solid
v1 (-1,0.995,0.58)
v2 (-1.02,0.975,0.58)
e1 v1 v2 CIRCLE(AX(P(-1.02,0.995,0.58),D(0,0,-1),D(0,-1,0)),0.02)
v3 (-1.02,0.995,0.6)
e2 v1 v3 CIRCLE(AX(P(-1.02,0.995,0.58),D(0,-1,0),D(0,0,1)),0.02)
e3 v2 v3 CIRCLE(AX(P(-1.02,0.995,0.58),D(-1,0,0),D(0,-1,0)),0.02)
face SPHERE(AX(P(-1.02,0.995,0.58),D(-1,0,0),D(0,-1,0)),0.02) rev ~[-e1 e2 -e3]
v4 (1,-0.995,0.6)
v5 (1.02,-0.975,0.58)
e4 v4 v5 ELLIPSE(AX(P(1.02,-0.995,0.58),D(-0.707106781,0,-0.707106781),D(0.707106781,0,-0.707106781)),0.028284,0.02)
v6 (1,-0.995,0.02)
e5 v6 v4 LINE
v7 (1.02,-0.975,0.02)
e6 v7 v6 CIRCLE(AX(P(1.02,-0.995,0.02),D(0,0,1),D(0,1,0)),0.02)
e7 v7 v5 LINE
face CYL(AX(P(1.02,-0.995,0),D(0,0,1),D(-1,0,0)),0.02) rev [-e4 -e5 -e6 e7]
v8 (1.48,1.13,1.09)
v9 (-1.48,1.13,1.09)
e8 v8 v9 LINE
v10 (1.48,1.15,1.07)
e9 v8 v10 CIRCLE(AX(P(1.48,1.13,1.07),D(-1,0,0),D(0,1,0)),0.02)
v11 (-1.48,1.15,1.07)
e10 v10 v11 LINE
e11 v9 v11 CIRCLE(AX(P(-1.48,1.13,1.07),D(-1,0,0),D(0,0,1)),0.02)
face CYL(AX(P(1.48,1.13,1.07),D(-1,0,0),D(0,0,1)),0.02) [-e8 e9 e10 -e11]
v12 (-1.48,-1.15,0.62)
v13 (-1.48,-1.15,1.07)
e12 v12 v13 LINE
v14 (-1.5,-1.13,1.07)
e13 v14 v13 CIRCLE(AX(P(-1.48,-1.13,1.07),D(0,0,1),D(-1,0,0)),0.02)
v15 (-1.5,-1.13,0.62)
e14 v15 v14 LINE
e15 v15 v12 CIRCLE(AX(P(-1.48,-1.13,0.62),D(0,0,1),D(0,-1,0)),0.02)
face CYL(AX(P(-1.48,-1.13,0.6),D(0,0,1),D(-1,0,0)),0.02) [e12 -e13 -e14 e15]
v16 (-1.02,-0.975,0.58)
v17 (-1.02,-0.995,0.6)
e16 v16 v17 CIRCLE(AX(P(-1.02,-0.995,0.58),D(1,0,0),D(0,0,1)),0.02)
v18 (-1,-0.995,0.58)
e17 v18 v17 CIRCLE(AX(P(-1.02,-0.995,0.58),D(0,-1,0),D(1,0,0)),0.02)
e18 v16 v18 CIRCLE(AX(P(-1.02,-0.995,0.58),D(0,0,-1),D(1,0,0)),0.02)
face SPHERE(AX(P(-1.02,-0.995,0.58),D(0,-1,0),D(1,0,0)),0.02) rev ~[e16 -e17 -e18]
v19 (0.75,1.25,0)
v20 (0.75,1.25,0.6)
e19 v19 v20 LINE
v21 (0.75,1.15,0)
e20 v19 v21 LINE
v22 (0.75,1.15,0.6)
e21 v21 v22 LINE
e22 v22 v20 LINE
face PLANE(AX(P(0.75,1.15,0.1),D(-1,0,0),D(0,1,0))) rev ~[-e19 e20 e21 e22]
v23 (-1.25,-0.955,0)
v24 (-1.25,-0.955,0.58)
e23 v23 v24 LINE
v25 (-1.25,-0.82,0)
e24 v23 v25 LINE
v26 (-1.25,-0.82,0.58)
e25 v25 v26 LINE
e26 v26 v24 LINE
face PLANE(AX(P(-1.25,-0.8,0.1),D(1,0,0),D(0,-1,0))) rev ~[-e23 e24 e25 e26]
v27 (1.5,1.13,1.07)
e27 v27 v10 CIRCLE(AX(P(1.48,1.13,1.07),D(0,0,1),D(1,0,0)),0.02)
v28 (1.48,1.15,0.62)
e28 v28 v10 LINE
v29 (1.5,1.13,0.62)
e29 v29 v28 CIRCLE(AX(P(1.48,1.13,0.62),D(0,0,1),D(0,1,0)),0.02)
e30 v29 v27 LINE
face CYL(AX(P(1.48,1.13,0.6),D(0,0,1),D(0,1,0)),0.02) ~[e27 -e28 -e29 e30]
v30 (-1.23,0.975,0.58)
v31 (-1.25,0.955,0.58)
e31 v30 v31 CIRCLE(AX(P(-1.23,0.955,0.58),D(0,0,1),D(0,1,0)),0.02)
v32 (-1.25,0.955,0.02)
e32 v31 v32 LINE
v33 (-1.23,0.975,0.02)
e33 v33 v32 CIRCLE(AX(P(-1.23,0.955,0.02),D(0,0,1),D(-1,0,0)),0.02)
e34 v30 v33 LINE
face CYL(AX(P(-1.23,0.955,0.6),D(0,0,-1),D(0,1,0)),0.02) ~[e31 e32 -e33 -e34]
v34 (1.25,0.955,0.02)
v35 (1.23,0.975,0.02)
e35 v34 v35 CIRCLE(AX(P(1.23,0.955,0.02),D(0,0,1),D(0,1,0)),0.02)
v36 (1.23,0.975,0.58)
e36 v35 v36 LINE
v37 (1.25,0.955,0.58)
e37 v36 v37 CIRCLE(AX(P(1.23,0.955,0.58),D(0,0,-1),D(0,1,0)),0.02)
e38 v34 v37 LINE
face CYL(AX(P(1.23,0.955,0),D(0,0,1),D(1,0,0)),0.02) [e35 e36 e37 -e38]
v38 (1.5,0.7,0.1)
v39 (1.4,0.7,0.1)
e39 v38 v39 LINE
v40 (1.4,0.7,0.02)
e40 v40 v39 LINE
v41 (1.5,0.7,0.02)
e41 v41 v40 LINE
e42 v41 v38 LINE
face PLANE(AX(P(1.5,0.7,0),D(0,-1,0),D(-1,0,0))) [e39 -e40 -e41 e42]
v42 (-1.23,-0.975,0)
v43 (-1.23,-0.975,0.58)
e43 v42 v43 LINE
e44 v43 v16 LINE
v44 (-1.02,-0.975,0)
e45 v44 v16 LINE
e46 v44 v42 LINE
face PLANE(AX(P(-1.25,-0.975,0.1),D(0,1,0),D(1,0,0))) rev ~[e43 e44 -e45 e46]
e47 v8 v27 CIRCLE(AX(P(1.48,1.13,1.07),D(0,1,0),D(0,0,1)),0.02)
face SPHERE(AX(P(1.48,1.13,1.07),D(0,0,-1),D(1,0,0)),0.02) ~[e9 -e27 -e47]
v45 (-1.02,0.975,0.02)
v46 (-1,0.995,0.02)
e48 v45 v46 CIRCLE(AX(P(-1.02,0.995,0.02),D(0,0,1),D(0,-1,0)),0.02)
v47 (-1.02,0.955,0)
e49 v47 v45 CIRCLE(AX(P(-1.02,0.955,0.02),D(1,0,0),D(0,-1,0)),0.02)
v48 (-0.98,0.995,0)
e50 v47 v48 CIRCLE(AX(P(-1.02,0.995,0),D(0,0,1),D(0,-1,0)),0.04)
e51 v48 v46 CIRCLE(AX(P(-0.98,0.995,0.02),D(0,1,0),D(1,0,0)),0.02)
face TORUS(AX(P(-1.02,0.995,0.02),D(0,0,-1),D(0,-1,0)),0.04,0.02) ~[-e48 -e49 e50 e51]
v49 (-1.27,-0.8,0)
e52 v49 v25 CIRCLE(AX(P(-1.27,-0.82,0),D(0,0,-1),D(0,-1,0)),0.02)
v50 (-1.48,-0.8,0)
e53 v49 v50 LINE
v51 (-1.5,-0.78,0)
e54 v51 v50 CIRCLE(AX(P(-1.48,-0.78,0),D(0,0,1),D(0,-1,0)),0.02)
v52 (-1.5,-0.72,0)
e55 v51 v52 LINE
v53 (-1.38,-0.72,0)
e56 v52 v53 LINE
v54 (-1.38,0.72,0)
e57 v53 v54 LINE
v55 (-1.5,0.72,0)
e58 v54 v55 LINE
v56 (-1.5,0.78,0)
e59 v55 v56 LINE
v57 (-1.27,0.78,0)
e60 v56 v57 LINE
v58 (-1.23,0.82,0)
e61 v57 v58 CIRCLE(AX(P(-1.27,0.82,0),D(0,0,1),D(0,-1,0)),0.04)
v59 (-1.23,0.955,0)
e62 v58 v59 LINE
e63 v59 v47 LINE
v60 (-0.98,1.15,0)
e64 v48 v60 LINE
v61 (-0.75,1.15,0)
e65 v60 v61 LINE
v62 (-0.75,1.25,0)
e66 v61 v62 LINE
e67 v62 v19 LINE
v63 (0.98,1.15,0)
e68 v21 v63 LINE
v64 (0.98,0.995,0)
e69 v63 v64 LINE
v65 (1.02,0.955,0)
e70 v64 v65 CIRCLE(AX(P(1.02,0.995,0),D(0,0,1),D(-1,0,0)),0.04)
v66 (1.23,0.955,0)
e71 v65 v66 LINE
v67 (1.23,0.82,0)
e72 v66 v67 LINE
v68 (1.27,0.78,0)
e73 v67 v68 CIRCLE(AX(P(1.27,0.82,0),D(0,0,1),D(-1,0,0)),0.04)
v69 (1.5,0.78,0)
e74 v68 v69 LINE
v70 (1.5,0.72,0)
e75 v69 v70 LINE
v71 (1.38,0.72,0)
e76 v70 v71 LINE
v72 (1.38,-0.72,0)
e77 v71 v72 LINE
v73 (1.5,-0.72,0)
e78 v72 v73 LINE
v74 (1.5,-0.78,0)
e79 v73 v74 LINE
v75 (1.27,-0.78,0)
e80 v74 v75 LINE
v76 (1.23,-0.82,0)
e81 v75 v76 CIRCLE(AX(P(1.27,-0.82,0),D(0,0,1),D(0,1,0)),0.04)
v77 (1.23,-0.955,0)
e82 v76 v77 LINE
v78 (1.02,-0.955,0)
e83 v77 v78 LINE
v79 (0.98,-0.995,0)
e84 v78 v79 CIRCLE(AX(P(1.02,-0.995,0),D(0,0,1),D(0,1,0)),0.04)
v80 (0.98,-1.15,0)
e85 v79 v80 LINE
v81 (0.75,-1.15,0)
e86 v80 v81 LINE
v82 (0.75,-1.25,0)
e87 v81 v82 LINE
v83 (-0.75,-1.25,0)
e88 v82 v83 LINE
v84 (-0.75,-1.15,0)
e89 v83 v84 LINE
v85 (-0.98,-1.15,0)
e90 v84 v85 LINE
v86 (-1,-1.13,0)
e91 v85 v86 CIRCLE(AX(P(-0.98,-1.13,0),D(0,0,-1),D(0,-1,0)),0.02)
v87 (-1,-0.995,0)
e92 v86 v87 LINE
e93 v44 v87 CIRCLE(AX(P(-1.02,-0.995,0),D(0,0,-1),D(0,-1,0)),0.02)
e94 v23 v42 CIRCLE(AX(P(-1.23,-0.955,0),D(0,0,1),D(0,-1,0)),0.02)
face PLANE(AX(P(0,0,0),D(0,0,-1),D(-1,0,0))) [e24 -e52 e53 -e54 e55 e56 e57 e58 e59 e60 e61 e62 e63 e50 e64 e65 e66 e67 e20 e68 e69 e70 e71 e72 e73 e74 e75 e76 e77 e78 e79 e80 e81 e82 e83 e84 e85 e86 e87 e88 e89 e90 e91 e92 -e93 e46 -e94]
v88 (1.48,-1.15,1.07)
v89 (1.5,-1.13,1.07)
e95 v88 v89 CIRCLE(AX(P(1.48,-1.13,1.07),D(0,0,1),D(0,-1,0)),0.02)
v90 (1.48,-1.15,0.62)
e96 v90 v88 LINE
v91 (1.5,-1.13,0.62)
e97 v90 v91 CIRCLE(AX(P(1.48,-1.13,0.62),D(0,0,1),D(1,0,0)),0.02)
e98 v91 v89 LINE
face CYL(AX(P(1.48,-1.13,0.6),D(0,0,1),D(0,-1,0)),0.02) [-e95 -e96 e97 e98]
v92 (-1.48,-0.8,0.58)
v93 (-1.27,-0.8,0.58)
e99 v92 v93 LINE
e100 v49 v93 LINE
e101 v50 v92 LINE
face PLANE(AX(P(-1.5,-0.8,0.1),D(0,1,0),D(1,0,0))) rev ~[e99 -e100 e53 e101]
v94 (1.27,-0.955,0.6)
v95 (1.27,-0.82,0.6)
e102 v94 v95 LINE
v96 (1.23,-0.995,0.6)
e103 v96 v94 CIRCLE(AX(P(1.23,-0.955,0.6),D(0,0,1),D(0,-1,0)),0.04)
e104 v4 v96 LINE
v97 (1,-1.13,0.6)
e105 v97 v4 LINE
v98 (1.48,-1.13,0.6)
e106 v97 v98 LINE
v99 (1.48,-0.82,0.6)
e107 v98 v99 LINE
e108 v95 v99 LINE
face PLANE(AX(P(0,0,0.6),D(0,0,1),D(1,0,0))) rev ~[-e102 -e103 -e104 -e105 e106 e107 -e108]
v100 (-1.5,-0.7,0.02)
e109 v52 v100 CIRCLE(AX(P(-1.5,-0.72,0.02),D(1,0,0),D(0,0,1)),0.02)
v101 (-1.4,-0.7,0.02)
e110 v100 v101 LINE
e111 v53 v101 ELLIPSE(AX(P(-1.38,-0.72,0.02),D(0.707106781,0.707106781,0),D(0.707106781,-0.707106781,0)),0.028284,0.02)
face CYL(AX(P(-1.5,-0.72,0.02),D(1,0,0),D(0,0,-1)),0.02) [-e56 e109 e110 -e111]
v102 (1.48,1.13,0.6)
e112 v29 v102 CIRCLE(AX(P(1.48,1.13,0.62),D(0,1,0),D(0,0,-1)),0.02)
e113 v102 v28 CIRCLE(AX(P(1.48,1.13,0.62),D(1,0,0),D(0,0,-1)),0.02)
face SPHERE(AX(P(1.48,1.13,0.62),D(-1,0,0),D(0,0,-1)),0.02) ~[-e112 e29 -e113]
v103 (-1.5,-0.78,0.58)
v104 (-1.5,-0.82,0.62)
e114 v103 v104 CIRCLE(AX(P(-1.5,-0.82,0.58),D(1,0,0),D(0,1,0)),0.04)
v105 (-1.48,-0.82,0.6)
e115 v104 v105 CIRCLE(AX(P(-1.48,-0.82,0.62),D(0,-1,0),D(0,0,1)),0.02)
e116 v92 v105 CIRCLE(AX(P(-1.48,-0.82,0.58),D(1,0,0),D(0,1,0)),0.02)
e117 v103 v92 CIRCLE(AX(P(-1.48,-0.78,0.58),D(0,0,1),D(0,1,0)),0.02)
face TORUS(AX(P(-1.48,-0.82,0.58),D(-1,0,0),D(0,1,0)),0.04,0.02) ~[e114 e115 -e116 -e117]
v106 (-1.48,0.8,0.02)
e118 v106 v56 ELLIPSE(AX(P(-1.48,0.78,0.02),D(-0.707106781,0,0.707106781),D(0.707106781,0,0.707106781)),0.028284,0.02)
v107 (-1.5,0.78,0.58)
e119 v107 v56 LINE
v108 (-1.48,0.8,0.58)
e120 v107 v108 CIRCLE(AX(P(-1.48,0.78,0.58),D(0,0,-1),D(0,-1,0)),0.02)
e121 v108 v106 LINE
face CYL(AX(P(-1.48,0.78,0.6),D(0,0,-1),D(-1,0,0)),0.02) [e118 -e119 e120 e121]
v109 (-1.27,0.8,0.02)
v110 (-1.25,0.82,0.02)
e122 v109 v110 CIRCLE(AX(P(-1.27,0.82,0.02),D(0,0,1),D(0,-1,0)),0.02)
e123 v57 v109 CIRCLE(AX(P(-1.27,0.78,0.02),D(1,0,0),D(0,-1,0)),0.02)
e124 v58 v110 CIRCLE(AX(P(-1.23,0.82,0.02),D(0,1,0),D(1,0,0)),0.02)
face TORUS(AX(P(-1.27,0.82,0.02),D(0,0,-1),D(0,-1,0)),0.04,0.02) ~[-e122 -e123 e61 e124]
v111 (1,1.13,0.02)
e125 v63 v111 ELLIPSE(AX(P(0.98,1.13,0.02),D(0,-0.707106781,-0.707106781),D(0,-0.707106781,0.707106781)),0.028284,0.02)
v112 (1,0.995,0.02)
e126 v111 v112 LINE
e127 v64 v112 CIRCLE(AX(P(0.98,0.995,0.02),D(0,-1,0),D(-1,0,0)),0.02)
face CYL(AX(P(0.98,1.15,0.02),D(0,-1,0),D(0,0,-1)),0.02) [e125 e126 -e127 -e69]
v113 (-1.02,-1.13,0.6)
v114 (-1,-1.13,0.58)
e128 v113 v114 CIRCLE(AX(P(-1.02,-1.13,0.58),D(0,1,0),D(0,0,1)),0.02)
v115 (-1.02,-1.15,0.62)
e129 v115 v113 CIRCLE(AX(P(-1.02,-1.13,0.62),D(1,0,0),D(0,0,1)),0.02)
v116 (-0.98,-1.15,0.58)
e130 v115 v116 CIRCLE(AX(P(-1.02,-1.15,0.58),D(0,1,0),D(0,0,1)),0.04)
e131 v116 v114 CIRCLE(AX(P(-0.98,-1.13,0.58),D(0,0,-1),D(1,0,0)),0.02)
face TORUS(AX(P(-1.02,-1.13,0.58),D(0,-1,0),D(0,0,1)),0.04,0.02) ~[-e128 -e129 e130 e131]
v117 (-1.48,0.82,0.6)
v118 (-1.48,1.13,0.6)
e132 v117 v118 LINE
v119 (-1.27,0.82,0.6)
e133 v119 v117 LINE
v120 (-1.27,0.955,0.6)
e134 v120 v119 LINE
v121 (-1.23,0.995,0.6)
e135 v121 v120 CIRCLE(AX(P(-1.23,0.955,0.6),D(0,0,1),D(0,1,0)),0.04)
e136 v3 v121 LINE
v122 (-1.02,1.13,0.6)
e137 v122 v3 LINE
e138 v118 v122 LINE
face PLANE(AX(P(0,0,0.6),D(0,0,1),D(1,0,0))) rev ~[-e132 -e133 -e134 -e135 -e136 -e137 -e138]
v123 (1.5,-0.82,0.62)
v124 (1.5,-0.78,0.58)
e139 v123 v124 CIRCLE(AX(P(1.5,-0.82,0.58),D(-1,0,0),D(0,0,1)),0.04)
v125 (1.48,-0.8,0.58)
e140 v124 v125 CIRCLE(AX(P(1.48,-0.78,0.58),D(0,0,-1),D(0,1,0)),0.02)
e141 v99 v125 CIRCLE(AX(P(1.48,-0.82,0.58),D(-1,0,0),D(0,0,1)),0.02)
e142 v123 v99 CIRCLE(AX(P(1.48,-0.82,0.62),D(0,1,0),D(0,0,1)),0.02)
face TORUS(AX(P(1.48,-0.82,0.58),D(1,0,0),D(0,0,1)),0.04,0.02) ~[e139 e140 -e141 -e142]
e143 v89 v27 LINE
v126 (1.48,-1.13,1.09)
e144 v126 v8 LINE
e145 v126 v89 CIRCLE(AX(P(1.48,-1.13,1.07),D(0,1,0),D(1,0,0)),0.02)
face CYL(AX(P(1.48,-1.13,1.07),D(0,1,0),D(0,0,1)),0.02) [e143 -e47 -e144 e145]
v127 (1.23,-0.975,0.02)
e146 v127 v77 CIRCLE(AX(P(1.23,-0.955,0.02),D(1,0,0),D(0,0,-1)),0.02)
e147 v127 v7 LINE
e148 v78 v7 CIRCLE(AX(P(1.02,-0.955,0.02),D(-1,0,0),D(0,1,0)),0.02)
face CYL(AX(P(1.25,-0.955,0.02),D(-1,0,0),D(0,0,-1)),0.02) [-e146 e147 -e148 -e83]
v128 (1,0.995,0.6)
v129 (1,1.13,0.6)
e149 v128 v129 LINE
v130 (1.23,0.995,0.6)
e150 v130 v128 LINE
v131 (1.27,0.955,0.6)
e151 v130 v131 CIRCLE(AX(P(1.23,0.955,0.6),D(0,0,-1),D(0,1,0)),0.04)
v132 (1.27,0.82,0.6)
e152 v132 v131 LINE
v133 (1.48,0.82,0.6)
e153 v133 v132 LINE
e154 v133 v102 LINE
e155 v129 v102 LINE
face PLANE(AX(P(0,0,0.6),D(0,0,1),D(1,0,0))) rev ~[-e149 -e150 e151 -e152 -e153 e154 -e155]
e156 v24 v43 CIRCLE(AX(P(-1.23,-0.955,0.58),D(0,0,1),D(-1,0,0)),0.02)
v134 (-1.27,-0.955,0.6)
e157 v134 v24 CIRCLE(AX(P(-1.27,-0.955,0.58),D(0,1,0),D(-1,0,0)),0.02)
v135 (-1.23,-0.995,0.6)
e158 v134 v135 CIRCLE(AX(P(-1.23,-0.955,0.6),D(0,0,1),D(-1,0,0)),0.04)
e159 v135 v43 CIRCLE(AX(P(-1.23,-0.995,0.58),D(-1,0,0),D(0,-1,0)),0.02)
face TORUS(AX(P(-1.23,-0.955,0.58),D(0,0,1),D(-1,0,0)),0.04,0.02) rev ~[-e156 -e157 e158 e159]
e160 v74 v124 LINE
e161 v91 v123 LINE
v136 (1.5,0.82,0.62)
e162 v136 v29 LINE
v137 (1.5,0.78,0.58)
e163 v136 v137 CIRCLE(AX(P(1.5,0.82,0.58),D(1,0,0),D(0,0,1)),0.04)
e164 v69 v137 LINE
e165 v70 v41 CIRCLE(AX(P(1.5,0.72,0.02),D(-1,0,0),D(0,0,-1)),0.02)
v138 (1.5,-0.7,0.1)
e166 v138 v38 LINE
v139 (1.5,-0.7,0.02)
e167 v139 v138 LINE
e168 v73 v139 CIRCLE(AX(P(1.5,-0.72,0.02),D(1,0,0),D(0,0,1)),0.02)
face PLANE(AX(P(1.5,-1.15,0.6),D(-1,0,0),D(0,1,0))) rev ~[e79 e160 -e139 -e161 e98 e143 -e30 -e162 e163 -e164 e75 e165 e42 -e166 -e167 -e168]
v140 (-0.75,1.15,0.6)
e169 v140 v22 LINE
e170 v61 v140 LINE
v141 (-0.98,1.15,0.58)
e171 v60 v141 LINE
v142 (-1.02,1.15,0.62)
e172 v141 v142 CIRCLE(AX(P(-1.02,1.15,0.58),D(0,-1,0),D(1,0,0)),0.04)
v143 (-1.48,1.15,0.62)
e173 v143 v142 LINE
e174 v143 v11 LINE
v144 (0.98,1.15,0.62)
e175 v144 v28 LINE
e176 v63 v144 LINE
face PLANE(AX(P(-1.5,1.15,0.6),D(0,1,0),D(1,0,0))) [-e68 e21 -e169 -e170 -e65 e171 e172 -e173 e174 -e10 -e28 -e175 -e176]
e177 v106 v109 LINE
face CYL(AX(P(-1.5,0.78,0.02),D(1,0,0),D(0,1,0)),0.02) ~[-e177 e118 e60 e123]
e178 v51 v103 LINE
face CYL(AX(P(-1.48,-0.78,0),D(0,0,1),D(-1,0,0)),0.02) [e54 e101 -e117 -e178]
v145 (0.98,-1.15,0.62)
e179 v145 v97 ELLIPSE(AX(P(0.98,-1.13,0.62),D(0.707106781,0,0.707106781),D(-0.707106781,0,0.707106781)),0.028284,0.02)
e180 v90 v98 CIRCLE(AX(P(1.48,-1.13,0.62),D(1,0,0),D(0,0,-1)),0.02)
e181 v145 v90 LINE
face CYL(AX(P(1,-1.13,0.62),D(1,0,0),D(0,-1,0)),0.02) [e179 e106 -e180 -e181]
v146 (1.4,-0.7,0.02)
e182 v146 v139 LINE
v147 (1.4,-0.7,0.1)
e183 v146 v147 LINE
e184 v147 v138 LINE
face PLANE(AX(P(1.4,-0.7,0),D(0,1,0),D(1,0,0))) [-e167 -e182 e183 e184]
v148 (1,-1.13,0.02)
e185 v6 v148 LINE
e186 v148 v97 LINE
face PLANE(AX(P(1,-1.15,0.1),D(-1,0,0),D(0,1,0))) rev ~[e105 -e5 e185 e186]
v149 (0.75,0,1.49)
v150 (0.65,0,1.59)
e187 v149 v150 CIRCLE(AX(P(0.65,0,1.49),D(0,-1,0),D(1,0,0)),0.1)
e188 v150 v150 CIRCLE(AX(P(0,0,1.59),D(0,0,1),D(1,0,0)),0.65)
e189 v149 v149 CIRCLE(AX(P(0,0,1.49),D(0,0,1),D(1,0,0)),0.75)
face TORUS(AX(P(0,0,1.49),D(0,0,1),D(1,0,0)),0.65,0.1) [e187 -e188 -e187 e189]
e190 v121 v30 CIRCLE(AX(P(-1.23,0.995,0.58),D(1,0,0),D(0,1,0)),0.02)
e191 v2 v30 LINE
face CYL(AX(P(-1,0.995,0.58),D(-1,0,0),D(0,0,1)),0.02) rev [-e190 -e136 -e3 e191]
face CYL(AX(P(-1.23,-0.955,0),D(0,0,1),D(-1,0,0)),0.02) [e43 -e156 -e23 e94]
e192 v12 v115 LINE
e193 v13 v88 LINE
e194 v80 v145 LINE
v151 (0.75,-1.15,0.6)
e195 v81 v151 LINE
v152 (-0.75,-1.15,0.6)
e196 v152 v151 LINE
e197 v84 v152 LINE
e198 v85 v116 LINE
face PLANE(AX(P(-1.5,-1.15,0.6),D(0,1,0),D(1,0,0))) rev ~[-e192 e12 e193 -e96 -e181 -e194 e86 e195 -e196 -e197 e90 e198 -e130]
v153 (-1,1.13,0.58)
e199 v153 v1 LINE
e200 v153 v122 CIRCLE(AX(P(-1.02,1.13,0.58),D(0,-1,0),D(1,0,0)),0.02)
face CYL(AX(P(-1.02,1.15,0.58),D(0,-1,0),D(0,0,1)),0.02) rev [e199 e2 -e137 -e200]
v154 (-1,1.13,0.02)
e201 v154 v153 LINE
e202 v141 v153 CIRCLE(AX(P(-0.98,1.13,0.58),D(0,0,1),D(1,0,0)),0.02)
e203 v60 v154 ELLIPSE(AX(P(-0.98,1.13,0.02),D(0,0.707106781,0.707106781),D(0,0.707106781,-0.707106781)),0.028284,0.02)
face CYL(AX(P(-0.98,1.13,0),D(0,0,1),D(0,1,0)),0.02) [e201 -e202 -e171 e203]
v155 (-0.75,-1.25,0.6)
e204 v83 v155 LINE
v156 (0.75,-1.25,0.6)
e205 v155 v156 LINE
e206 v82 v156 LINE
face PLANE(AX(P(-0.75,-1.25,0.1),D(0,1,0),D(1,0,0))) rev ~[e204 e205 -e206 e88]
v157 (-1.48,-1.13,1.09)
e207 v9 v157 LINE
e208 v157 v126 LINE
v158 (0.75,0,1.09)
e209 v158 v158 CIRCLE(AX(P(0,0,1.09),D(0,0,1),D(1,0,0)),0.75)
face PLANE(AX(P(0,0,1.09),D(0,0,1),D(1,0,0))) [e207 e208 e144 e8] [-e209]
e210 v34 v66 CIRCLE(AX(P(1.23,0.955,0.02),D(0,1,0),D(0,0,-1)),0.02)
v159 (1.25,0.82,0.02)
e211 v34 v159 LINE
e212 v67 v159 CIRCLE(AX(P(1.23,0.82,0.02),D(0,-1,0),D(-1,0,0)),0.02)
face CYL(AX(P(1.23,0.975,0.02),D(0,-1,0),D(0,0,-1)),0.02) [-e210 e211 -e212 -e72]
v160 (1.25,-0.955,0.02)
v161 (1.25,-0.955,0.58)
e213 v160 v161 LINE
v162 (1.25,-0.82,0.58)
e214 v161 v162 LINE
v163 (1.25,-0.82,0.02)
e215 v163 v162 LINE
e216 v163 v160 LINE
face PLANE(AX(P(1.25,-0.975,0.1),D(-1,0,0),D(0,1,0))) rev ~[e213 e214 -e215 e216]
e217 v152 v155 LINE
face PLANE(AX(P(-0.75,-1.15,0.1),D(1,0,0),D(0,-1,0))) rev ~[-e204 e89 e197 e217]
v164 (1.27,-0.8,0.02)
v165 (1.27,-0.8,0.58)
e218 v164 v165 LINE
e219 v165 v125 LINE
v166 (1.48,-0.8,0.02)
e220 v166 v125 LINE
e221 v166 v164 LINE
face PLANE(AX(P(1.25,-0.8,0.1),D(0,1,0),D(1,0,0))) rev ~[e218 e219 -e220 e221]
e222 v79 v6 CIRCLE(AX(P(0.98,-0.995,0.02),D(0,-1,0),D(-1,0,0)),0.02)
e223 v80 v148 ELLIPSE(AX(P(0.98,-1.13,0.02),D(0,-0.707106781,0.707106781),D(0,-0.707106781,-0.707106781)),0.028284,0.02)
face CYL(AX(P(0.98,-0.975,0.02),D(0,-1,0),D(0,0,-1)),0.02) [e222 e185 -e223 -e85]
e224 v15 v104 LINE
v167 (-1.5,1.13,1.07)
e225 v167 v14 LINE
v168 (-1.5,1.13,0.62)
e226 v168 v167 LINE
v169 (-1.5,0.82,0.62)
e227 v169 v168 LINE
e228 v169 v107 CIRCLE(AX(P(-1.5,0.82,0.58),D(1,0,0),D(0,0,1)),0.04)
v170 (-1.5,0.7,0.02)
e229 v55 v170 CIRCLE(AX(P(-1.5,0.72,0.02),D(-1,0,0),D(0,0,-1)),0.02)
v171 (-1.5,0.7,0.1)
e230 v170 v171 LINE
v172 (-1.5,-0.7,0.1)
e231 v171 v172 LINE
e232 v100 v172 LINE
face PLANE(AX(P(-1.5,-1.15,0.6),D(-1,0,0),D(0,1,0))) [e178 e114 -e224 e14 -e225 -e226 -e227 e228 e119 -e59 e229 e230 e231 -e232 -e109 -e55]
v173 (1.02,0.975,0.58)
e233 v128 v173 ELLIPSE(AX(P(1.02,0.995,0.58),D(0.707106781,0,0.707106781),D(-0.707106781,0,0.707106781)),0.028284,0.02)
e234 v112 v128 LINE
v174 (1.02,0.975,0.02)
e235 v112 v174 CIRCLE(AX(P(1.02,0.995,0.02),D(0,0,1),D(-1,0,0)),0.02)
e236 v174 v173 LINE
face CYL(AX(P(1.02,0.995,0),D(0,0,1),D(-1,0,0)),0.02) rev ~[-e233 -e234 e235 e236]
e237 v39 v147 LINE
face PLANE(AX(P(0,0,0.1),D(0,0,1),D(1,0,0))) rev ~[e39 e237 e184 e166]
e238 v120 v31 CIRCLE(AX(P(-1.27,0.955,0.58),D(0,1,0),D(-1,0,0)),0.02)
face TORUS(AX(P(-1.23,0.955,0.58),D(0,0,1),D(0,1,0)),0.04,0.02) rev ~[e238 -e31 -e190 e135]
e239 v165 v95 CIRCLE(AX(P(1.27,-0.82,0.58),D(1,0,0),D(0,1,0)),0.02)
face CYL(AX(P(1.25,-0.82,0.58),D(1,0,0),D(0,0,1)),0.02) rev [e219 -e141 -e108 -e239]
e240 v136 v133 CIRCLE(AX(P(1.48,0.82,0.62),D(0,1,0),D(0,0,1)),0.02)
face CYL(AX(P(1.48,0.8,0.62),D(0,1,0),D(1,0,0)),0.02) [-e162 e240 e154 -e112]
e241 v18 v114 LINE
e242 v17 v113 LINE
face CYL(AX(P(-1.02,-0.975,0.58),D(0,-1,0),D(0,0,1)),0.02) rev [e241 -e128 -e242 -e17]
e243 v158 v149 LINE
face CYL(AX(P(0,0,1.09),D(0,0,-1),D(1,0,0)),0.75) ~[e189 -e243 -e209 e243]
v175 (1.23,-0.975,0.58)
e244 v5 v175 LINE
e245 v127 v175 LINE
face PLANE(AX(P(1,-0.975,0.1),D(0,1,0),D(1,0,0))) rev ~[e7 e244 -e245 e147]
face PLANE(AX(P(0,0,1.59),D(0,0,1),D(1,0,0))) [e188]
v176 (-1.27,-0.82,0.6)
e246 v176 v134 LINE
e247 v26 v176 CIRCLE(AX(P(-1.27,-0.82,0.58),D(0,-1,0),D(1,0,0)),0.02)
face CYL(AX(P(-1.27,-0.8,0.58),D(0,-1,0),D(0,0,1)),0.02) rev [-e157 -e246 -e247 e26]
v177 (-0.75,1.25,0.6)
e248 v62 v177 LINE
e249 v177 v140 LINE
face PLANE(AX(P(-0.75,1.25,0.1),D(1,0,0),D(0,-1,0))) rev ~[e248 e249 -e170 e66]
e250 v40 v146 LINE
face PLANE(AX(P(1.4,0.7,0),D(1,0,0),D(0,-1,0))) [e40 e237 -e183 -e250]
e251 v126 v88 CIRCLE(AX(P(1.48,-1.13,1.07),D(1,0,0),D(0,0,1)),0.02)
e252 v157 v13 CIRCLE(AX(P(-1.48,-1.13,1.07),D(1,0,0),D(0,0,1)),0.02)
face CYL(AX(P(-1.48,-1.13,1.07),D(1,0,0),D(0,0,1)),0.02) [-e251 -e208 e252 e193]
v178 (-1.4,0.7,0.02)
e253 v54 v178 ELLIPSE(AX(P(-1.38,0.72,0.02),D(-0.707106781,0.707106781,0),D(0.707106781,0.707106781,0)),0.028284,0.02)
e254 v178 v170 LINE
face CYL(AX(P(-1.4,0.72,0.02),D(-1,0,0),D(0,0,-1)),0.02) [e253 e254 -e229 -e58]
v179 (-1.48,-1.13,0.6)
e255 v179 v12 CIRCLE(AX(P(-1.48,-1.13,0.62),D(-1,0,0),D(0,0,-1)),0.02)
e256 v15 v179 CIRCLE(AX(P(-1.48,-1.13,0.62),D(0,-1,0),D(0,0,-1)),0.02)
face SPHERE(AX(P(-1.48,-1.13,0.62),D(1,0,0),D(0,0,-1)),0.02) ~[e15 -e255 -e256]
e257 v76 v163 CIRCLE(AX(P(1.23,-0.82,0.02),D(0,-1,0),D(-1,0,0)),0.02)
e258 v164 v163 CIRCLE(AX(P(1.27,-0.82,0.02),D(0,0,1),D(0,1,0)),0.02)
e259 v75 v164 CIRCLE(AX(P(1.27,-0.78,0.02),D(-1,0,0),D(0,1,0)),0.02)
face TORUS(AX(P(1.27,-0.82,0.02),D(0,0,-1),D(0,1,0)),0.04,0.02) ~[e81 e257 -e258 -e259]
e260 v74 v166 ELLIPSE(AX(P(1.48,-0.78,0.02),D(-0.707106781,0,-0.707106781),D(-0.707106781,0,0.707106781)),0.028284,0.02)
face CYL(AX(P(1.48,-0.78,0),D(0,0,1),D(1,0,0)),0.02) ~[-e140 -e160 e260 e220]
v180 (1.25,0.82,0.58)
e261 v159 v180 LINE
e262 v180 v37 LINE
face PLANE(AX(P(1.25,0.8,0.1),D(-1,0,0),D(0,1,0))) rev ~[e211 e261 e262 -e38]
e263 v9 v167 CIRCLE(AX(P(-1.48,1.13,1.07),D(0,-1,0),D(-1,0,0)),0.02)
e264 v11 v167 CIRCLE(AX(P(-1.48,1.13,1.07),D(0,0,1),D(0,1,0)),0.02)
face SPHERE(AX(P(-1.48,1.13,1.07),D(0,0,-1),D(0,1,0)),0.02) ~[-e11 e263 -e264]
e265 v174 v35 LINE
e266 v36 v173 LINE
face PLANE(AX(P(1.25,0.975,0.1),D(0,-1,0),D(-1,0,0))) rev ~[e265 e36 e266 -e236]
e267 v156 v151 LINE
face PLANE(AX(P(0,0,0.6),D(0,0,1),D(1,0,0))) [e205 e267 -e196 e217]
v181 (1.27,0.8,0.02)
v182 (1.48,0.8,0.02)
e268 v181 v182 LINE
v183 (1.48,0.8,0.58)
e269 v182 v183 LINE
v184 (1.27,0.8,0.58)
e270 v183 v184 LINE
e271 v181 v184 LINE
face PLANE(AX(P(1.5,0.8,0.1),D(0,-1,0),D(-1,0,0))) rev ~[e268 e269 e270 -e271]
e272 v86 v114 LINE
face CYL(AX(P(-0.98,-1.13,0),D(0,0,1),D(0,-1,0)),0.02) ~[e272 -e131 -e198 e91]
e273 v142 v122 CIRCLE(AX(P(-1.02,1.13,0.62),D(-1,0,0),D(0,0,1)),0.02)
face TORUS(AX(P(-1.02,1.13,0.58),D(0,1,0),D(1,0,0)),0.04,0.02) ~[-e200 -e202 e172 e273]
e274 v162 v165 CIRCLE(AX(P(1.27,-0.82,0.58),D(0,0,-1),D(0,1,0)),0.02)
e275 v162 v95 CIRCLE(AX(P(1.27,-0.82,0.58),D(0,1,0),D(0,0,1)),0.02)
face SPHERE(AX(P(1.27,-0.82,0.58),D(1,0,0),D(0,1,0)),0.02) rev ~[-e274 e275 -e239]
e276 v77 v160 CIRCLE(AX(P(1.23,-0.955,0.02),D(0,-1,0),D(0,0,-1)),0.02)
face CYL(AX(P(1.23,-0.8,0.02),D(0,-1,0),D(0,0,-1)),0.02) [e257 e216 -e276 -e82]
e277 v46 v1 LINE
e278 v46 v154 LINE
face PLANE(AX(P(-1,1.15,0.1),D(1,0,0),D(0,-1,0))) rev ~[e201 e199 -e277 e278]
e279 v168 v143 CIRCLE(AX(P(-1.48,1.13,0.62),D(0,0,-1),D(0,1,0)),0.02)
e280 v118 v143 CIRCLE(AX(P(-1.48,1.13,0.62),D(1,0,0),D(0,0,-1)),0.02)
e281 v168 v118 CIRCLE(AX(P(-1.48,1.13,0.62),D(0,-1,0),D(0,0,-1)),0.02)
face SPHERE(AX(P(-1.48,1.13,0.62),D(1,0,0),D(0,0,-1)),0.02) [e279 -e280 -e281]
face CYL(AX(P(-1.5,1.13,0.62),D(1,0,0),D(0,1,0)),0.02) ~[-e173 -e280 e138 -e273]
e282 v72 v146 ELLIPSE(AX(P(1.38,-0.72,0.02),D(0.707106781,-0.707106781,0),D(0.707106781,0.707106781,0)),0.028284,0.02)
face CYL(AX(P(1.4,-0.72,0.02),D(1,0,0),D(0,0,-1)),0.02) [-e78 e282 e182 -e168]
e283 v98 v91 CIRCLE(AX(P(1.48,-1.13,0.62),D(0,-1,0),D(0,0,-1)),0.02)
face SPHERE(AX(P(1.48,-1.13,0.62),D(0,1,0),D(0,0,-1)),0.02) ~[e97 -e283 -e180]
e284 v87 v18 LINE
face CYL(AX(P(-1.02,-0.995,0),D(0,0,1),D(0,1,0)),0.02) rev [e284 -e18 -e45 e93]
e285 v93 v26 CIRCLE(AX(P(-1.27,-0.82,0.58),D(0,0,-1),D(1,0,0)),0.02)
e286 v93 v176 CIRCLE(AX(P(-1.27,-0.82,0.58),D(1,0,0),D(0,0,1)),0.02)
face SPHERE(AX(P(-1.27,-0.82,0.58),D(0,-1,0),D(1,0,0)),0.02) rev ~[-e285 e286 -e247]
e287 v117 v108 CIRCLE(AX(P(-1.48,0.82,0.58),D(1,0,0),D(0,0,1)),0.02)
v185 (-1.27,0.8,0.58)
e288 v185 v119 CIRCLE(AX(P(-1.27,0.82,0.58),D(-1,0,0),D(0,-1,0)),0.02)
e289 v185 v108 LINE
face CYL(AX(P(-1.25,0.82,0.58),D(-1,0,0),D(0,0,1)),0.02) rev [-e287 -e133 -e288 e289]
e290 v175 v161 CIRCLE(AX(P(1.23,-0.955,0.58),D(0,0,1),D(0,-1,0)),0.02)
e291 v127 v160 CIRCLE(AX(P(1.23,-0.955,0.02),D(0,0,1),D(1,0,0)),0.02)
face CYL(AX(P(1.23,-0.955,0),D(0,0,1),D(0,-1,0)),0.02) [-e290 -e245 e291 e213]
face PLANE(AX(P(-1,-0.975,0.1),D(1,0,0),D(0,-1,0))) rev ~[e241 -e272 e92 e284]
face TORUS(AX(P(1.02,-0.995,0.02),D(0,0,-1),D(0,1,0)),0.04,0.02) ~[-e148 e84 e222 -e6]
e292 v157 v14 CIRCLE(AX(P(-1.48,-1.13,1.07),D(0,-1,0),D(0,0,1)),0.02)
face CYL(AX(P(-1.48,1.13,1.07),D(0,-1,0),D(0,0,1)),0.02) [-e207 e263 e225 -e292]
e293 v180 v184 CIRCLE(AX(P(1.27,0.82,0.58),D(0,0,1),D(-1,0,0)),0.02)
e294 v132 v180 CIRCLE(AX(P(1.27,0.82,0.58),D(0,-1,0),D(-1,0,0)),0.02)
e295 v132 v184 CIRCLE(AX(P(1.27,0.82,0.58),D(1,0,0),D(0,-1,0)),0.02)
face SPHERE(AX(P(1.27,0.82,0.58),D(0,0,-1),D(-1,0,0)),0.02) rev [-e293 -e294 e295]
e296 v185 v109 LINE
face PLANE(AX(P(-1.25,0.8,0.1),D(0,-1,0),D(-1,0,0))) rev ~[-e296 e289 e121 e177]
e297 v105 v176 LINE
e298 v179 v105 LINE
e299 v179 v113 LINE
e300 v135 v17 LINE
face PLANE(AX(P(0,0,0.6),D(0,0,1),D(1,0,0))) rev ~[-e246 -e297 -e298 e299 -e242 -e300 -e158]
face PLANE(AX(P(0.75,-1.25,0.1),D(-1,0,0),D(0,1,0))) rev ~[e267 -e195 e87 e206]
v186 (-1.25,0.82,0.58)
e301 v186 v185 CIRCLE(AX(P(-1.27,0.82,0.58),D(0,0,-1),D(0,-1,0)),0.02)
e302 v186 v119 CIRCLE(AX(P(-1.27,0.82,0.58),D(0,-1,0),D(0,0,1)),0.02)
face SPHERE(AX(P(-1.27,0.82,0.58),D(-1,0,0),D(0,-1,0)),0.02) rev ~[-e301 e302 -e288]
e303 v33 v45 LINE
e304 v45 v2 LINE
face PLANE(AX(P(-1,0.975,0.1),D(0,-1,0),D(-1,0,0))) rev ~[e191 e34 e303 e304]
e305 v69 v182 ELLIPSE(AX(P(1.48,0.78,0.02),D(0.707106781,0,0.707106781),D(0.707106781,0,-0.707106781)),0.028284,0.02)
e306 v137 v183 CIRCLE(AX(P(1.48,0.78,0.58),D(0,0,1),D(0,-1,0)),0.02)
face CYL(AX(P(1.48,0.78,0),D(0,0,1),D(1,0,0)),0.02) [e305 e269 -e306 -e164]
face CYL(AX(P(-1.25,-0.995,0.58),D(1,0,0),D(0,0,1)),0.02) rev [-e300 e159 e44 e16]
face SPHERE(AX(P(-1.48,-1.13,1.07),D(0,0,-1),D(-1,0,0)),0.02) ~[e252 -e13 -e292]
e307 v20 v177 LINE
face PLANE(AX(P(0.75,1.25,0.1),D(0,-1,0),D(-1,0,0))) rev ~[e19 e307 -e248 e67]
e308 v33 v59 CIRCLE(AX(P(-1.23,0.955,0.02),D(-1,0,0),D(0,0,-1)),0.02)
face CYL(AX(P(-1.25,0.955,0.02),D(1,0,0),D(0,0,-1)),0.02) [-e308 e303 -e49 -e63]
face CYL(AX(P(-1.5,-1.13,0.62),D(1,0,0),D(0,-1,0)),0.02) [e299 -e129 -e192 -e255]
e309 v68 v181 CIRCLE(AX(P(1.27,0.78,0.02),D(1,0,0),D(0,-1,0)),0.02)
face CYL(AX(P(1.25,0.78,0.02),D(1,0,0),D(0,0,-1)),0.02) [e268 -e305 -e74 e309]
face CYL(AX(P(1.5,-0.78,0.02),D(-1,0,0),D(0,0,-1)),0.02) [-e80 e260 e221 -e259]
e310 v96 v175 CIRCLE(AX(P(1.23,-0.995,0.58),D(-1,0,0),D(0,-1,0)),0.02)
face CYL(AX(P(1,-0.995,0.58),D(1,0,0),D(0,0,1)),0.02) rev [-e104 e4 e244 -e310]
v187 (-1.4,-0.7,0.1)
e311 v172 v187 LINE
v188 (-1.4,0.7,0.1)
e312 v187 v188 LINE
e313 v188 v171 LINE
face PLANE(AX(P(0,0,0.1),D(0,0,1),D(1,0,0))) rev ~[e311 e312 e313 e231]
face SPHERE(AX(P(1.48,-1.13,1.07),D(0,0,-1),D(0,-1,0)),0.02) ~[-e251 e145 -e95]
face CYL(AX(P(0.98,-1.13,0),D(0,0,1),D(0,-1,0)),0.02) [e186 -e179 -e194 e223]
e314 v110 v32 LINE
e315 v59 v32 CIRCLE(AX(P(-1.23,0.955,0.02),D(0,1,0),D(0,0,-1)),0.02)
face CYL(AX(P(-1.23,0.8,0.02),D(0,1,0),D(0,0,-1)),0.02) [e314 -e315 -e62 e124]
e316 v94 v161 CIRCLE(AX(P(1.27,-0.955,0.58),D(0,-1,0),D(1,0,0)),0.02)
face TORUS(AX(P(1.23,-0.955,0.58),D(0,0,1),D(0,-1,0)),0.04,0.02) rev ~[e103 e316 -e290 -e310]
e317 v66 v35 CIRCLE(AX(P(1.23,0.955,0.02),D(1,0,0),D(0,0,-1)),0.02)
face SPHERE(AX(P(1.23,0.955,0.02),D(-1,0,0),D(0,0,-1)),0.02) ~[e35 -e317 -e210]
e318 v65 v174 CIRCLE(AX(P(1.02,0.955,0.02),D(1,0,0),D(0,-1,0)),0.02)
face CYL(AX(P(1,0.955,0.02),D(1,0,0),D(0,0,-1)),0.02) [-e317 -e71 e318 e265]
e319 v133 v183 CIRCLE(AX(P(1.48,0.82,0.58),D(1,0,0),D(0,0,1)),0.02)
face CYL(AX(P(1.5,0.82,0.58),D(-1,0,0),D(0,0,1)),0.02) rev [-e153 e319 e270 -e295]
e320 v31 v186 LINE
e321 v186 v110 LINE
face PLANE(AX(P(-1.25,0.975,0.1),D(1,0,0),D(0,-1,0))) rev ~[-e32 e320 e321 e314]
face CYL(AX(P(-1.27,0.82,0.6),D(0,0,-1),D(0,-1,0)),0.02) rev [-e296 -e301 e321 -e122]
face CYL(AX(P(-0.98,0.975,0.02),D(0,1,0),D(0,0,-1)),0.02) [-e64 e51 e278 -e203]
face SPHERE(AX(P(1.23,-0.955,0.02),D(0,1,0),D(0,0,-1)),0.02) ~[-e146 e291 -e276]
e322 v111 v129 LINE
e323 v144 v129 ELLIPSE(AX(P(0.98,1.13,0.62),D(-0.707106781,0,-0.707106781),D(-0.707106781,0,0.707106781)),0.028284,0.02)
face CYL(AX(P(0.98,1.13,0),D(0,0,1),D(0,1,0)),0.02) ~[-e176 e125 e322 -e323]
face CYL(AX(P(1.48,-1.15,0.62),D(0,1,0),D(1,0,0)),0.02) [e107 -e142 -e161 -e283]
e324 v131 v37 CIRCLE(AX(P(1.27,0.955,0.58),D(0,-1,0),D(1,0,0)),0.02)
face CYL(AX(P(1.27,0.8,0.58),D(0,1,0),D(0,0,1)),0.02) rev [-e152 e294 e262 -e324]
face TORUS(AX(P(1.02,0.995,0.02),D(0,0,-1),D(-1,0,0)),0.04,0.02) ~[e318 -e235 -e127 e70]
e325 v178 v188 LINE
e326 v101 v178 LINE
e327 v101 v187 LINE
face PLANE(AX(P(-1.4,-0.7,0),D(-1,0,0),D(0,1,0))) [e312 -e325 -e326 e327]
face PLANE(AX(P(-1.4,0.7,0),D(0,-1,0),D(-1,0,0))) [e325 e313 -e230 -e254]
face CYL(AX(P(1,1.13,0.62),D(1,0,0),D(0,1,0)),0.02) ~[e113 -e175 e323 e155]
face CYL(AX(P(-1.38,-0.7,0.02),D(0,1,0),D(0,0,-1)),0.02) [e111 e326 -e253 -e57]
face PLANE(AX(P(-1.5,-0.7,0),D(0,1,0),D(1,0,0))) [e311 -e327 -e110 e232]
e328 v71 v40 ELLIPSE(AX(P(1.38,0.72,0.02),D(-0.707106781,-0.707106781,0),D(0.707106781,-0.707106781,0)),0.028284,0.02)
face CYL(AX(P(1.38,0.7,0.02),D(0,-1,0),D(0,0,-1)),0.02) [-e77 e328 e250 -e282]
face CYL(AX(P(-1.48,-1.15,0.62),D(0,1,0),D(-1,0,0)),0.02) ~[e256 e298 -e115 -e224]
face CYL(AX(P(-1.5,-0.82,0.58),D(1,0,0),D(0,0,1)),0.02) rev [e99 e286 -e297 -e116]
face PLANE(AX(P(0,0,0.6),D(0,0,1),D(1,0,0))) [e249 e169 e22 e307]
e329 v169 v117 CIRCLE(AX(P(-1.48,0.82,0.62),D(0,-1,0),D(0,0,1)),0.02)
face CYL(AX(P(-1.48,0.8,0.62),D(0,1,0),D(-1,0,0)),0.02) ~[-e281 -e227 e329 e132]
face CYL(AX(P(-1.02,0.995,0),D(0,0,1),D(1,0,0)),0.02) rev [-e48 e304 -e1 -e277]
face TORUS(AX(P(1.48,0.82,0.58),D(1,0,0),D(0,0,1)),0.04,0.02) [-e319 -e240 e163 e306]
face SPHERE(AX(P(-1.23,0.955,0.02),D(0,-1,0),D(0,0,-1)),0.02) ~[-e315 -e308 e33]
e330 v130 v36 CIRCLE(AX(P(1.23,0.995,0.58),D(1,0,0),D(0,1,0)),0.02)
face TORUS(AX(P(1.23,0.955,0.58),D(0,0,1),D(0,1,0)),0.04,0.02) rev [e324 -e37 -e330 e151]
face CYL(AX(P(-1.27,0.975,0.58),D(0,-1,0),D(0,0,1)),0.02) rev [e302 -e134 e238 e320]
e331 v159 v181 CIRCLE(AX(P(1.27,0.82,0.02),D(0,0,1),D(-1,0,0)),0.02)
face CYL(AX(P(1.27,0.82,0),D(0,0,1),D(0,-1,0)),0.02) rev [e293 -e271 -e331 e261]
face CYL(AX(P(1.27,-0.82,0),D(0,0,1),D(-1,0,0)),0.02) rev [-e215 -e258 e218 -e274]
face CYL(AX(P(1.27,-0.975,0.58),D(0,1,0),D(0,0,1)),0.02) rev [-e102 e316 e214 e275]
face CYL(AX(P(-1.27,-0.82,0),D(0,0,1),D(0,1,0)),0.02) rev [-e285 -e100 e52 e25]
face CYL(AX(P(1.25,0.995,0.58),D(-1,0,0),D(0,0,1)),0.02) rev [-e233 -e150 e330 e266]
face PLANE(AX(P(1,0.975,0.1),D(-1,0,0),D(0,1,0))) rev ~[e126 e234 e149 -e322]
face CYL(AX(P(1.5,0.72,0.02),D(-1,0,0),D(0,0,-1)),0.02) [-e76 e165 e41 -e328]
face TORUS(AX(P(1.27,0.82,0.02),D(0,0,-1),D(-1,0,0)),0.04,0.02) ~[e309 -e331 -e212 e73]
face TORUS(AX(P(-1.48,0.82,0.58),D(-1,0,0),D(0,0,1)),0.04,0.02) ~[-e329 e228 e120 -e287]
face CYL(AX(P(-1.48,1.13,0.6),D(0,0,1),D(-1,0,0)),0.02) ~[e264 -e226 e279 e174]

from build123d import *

# Parameters (mm, degrees)
SKETCH010_R             = 0.75
EXTRUDE_SKETCH010_DEPTH = 0.5
FILLET001_R             = 0.1
PAD001_DEPTH            = 0.1
PAD005_DEPTH            = 0.5
SKETCH009_W             = 3
SKETCH009_H             = 2.3
PAD006_DEPTH            = 0.49
FILLET_R                = 0.02
FILLET002002_R          = 0.02


with BuildPart() as fillet001:
    # Sketch010 (on Face45 of Fillet) → Extrude_Sketch010 (new body)
    with BuildSketch(Plane.XY.offset(1.09)):
        Circle(SKETCH010_R)
    extrude(amount=EXTRUDE_SKETCH010_DEPTH)

    # Fillet001
    fillet001_edges = [fillet001.edges().sort_by_distance(p)[0] for p in [
        (-0.75, 0, 1.59),
    ]]
    fillet(fillet001_edges, radius=FILLET001_R)


with BuildPart() as f_8_fillet002002:
    # Sketch004 → Pad001 (new body)
    with BuildSketch(Plane.XY):
        Polygon((0.75, -1.15), (0.75, -1.25), (-0.75, -1.25), (-0.75, -1.15), (-1, -1.15), (-1, -0.975), (-1.25, -0.975), (-1.25, -0.8), (-1.5, -0.8), (-1.5, -0.7), (-1.4, -0.7), (-1.4, 0.7), (-1.5, 0.7), (-1.5, 0.8), (-1.25, 0.8), (-1.25, 0.975), (-1, 0.975), (-1, 1.15), (-0.75, 1.15), (-0.75, 1.25), (0.75, 1.25), (0.75, 1.15), (1, 1.15), (1, 0.975), (1.25, 0.975), (1.25, 0.8), (1.5, 0.8), (1.5, 0.7), (1.4, 0.7), (1.4, -0.7), (1.5, -0.7), (1.5, -0.8), (1.25, -0.8), (1.25, -0.975), (1, -0.975), (1, -1.15), align=None)
    extrude(amount=PAD001_DEPTH)

    # Sketch008 (on Face38 of Pad001) → Pad005 (new body)
    with BuildSketch(Plane.XY.offset(0.1)):
        Polygon((-1.5, 0.8), (-1.5, -0.8), (-1.25, -0.8), (-1.25, -0.975), (-1, -0.975), (-1, -1.15), (-0.75, -1.15), (-0.75, -1.25), (0.75, -1.25), (0.75, -1.15), (1, -1.15), (1, -0.975), (1.25, -0.975), (1.25, -0.8), (1.5, -0.8), (1.5, 0.8), (1.25, 0.8), (1.25, 0.975), (1, 0.975), (1, 1.15), (0.75, 1.15), (0.75, 1.25), (-0.75, 1.25), (-0.75, 1.15), (-1, 1.15), (-1, 0.975), (-1.25, 0.975), (-1.25, 0.8), align=None)
    extrude(amount=PAD005_DEPTH)

    # Sketch009 (on Face1 of Pad005) → Pad006 (new body)
    with BuildSketch(Plane.XY.offset(0.6)):
        Rectangle(SKETCH009_W, SKETCH009_H)
    extrude(amount=PAD006_DEPTH)

    # Fillet
    fillet_edges = [f_8_fillet002002.edges().sort_by_distance(p)[0] for p in [
        (1.375, -0.8, 0),
        (1.25, -0.8875, 0),
        (1.125, -0.975, 0),
        (1, -1.0625, 0),
        (-1.375, 0.8, 0),
        (-1.25, 0.8875, 0),
        (-1.125, 0.975, 0),
        (-1, 1.0625, 0),
        (1, 1.0625, 0),
        (1.125, 0.975, 0),
        (1.25, 0.8875, 0),
        (1.375, 0.8, 0),
        (1.5, -0.8, 0.3),
        (1.375, -0.8, 0.6),
        (1.25, -0.8, 0.3),
        (1.25, -0.8875, 0.6),
        (1.25, -0.975, 0.3),
        (1.125, -0.975, 0.6),
        (1, -0.975, 0.3),
        (1, -1.15, 0.3),
        (-1, -1.15, 0.3),
        (-1, -1.0625, 0.6),
        (-1, -0.975, 0.3),
        (-1.125, -0.975, 0.6),
        (-1.25, -0.975, 0.3),
        (-1.25, -0.8875, 0.6),
        (-1.25, -0.8, 0.3),
        (-1.375, -0.8, 0.6),
        (-1.5, -0.8, 0.3),
        (-1.5, 0.8, 0.3),
        (-1.375, 0.8, 0.6),
        (-1.25, 0.8, 0.3),
        (-1.25, 0.8875, 0.6),
        (-1.25, 0.975, 0.3),
        (-1.125, 0.975, 0.6),
        (-1, 0.975, 0.3),
        (-1, 1.0625, 0.6),
        (-1, 1.15, 0.3),
        (1, 0.975, 0.3),
        (1, 1.15, 0.3),
        (1.25, 0.975, 0.3),
        (1.125, 0.975, 0.6),
        (1.25, 0.8, 0.3),
        (1.25, 0.8875, 0.6),
        (1.5, 0.8, 0.3),
        (1.375, 0.8, 0.6),
        (1.5, -0.975, 0.6),
        (1.25, -1.15, 0.6),
        (-1.25, -1.15, 0.6),
        (-1.5, -0.975, 0.6),
        (-1.25, 1.15, 0.6),
        (-1.5, 0.975, 0.6),
        (1.25, 1.15, 0.6),
        (1.5, 0.975, 0.6),
        (1.5, -1.15, 0.845),
        (-1.5, -1.15, 0.845),
        (-1.5, 1.15, 0.845),
        (1.5, 1.15, 0.845),
    ]]
    fillet(fillet_edges, radius=FILLET_R)

    # Fusion002: union Fillet001
    add(fillet001.part)

    # Fillet002002
    fillet002002_edges = [f_8_fillet002002.edges().sort_by_distance(p)[0] for p in [
        (1.45, -0.7, 0),
        (1.4, 0, 0),
        (1.45, 0.7, 0),
        (-1.45, -0.7, 0),
        (-1.4, 0, 0),
        (-1.45, 0.7, 0),
        (0, -1.15, 1.09),
        (1.5, 0, 1.09),
        (-1.5, 0, 1.09),
        (0, 1.15, 1.09),
    ]]
    fillet(fillet002002_edges, radius=FILLET002002_R)


solid = f_8_fillet002002.part
